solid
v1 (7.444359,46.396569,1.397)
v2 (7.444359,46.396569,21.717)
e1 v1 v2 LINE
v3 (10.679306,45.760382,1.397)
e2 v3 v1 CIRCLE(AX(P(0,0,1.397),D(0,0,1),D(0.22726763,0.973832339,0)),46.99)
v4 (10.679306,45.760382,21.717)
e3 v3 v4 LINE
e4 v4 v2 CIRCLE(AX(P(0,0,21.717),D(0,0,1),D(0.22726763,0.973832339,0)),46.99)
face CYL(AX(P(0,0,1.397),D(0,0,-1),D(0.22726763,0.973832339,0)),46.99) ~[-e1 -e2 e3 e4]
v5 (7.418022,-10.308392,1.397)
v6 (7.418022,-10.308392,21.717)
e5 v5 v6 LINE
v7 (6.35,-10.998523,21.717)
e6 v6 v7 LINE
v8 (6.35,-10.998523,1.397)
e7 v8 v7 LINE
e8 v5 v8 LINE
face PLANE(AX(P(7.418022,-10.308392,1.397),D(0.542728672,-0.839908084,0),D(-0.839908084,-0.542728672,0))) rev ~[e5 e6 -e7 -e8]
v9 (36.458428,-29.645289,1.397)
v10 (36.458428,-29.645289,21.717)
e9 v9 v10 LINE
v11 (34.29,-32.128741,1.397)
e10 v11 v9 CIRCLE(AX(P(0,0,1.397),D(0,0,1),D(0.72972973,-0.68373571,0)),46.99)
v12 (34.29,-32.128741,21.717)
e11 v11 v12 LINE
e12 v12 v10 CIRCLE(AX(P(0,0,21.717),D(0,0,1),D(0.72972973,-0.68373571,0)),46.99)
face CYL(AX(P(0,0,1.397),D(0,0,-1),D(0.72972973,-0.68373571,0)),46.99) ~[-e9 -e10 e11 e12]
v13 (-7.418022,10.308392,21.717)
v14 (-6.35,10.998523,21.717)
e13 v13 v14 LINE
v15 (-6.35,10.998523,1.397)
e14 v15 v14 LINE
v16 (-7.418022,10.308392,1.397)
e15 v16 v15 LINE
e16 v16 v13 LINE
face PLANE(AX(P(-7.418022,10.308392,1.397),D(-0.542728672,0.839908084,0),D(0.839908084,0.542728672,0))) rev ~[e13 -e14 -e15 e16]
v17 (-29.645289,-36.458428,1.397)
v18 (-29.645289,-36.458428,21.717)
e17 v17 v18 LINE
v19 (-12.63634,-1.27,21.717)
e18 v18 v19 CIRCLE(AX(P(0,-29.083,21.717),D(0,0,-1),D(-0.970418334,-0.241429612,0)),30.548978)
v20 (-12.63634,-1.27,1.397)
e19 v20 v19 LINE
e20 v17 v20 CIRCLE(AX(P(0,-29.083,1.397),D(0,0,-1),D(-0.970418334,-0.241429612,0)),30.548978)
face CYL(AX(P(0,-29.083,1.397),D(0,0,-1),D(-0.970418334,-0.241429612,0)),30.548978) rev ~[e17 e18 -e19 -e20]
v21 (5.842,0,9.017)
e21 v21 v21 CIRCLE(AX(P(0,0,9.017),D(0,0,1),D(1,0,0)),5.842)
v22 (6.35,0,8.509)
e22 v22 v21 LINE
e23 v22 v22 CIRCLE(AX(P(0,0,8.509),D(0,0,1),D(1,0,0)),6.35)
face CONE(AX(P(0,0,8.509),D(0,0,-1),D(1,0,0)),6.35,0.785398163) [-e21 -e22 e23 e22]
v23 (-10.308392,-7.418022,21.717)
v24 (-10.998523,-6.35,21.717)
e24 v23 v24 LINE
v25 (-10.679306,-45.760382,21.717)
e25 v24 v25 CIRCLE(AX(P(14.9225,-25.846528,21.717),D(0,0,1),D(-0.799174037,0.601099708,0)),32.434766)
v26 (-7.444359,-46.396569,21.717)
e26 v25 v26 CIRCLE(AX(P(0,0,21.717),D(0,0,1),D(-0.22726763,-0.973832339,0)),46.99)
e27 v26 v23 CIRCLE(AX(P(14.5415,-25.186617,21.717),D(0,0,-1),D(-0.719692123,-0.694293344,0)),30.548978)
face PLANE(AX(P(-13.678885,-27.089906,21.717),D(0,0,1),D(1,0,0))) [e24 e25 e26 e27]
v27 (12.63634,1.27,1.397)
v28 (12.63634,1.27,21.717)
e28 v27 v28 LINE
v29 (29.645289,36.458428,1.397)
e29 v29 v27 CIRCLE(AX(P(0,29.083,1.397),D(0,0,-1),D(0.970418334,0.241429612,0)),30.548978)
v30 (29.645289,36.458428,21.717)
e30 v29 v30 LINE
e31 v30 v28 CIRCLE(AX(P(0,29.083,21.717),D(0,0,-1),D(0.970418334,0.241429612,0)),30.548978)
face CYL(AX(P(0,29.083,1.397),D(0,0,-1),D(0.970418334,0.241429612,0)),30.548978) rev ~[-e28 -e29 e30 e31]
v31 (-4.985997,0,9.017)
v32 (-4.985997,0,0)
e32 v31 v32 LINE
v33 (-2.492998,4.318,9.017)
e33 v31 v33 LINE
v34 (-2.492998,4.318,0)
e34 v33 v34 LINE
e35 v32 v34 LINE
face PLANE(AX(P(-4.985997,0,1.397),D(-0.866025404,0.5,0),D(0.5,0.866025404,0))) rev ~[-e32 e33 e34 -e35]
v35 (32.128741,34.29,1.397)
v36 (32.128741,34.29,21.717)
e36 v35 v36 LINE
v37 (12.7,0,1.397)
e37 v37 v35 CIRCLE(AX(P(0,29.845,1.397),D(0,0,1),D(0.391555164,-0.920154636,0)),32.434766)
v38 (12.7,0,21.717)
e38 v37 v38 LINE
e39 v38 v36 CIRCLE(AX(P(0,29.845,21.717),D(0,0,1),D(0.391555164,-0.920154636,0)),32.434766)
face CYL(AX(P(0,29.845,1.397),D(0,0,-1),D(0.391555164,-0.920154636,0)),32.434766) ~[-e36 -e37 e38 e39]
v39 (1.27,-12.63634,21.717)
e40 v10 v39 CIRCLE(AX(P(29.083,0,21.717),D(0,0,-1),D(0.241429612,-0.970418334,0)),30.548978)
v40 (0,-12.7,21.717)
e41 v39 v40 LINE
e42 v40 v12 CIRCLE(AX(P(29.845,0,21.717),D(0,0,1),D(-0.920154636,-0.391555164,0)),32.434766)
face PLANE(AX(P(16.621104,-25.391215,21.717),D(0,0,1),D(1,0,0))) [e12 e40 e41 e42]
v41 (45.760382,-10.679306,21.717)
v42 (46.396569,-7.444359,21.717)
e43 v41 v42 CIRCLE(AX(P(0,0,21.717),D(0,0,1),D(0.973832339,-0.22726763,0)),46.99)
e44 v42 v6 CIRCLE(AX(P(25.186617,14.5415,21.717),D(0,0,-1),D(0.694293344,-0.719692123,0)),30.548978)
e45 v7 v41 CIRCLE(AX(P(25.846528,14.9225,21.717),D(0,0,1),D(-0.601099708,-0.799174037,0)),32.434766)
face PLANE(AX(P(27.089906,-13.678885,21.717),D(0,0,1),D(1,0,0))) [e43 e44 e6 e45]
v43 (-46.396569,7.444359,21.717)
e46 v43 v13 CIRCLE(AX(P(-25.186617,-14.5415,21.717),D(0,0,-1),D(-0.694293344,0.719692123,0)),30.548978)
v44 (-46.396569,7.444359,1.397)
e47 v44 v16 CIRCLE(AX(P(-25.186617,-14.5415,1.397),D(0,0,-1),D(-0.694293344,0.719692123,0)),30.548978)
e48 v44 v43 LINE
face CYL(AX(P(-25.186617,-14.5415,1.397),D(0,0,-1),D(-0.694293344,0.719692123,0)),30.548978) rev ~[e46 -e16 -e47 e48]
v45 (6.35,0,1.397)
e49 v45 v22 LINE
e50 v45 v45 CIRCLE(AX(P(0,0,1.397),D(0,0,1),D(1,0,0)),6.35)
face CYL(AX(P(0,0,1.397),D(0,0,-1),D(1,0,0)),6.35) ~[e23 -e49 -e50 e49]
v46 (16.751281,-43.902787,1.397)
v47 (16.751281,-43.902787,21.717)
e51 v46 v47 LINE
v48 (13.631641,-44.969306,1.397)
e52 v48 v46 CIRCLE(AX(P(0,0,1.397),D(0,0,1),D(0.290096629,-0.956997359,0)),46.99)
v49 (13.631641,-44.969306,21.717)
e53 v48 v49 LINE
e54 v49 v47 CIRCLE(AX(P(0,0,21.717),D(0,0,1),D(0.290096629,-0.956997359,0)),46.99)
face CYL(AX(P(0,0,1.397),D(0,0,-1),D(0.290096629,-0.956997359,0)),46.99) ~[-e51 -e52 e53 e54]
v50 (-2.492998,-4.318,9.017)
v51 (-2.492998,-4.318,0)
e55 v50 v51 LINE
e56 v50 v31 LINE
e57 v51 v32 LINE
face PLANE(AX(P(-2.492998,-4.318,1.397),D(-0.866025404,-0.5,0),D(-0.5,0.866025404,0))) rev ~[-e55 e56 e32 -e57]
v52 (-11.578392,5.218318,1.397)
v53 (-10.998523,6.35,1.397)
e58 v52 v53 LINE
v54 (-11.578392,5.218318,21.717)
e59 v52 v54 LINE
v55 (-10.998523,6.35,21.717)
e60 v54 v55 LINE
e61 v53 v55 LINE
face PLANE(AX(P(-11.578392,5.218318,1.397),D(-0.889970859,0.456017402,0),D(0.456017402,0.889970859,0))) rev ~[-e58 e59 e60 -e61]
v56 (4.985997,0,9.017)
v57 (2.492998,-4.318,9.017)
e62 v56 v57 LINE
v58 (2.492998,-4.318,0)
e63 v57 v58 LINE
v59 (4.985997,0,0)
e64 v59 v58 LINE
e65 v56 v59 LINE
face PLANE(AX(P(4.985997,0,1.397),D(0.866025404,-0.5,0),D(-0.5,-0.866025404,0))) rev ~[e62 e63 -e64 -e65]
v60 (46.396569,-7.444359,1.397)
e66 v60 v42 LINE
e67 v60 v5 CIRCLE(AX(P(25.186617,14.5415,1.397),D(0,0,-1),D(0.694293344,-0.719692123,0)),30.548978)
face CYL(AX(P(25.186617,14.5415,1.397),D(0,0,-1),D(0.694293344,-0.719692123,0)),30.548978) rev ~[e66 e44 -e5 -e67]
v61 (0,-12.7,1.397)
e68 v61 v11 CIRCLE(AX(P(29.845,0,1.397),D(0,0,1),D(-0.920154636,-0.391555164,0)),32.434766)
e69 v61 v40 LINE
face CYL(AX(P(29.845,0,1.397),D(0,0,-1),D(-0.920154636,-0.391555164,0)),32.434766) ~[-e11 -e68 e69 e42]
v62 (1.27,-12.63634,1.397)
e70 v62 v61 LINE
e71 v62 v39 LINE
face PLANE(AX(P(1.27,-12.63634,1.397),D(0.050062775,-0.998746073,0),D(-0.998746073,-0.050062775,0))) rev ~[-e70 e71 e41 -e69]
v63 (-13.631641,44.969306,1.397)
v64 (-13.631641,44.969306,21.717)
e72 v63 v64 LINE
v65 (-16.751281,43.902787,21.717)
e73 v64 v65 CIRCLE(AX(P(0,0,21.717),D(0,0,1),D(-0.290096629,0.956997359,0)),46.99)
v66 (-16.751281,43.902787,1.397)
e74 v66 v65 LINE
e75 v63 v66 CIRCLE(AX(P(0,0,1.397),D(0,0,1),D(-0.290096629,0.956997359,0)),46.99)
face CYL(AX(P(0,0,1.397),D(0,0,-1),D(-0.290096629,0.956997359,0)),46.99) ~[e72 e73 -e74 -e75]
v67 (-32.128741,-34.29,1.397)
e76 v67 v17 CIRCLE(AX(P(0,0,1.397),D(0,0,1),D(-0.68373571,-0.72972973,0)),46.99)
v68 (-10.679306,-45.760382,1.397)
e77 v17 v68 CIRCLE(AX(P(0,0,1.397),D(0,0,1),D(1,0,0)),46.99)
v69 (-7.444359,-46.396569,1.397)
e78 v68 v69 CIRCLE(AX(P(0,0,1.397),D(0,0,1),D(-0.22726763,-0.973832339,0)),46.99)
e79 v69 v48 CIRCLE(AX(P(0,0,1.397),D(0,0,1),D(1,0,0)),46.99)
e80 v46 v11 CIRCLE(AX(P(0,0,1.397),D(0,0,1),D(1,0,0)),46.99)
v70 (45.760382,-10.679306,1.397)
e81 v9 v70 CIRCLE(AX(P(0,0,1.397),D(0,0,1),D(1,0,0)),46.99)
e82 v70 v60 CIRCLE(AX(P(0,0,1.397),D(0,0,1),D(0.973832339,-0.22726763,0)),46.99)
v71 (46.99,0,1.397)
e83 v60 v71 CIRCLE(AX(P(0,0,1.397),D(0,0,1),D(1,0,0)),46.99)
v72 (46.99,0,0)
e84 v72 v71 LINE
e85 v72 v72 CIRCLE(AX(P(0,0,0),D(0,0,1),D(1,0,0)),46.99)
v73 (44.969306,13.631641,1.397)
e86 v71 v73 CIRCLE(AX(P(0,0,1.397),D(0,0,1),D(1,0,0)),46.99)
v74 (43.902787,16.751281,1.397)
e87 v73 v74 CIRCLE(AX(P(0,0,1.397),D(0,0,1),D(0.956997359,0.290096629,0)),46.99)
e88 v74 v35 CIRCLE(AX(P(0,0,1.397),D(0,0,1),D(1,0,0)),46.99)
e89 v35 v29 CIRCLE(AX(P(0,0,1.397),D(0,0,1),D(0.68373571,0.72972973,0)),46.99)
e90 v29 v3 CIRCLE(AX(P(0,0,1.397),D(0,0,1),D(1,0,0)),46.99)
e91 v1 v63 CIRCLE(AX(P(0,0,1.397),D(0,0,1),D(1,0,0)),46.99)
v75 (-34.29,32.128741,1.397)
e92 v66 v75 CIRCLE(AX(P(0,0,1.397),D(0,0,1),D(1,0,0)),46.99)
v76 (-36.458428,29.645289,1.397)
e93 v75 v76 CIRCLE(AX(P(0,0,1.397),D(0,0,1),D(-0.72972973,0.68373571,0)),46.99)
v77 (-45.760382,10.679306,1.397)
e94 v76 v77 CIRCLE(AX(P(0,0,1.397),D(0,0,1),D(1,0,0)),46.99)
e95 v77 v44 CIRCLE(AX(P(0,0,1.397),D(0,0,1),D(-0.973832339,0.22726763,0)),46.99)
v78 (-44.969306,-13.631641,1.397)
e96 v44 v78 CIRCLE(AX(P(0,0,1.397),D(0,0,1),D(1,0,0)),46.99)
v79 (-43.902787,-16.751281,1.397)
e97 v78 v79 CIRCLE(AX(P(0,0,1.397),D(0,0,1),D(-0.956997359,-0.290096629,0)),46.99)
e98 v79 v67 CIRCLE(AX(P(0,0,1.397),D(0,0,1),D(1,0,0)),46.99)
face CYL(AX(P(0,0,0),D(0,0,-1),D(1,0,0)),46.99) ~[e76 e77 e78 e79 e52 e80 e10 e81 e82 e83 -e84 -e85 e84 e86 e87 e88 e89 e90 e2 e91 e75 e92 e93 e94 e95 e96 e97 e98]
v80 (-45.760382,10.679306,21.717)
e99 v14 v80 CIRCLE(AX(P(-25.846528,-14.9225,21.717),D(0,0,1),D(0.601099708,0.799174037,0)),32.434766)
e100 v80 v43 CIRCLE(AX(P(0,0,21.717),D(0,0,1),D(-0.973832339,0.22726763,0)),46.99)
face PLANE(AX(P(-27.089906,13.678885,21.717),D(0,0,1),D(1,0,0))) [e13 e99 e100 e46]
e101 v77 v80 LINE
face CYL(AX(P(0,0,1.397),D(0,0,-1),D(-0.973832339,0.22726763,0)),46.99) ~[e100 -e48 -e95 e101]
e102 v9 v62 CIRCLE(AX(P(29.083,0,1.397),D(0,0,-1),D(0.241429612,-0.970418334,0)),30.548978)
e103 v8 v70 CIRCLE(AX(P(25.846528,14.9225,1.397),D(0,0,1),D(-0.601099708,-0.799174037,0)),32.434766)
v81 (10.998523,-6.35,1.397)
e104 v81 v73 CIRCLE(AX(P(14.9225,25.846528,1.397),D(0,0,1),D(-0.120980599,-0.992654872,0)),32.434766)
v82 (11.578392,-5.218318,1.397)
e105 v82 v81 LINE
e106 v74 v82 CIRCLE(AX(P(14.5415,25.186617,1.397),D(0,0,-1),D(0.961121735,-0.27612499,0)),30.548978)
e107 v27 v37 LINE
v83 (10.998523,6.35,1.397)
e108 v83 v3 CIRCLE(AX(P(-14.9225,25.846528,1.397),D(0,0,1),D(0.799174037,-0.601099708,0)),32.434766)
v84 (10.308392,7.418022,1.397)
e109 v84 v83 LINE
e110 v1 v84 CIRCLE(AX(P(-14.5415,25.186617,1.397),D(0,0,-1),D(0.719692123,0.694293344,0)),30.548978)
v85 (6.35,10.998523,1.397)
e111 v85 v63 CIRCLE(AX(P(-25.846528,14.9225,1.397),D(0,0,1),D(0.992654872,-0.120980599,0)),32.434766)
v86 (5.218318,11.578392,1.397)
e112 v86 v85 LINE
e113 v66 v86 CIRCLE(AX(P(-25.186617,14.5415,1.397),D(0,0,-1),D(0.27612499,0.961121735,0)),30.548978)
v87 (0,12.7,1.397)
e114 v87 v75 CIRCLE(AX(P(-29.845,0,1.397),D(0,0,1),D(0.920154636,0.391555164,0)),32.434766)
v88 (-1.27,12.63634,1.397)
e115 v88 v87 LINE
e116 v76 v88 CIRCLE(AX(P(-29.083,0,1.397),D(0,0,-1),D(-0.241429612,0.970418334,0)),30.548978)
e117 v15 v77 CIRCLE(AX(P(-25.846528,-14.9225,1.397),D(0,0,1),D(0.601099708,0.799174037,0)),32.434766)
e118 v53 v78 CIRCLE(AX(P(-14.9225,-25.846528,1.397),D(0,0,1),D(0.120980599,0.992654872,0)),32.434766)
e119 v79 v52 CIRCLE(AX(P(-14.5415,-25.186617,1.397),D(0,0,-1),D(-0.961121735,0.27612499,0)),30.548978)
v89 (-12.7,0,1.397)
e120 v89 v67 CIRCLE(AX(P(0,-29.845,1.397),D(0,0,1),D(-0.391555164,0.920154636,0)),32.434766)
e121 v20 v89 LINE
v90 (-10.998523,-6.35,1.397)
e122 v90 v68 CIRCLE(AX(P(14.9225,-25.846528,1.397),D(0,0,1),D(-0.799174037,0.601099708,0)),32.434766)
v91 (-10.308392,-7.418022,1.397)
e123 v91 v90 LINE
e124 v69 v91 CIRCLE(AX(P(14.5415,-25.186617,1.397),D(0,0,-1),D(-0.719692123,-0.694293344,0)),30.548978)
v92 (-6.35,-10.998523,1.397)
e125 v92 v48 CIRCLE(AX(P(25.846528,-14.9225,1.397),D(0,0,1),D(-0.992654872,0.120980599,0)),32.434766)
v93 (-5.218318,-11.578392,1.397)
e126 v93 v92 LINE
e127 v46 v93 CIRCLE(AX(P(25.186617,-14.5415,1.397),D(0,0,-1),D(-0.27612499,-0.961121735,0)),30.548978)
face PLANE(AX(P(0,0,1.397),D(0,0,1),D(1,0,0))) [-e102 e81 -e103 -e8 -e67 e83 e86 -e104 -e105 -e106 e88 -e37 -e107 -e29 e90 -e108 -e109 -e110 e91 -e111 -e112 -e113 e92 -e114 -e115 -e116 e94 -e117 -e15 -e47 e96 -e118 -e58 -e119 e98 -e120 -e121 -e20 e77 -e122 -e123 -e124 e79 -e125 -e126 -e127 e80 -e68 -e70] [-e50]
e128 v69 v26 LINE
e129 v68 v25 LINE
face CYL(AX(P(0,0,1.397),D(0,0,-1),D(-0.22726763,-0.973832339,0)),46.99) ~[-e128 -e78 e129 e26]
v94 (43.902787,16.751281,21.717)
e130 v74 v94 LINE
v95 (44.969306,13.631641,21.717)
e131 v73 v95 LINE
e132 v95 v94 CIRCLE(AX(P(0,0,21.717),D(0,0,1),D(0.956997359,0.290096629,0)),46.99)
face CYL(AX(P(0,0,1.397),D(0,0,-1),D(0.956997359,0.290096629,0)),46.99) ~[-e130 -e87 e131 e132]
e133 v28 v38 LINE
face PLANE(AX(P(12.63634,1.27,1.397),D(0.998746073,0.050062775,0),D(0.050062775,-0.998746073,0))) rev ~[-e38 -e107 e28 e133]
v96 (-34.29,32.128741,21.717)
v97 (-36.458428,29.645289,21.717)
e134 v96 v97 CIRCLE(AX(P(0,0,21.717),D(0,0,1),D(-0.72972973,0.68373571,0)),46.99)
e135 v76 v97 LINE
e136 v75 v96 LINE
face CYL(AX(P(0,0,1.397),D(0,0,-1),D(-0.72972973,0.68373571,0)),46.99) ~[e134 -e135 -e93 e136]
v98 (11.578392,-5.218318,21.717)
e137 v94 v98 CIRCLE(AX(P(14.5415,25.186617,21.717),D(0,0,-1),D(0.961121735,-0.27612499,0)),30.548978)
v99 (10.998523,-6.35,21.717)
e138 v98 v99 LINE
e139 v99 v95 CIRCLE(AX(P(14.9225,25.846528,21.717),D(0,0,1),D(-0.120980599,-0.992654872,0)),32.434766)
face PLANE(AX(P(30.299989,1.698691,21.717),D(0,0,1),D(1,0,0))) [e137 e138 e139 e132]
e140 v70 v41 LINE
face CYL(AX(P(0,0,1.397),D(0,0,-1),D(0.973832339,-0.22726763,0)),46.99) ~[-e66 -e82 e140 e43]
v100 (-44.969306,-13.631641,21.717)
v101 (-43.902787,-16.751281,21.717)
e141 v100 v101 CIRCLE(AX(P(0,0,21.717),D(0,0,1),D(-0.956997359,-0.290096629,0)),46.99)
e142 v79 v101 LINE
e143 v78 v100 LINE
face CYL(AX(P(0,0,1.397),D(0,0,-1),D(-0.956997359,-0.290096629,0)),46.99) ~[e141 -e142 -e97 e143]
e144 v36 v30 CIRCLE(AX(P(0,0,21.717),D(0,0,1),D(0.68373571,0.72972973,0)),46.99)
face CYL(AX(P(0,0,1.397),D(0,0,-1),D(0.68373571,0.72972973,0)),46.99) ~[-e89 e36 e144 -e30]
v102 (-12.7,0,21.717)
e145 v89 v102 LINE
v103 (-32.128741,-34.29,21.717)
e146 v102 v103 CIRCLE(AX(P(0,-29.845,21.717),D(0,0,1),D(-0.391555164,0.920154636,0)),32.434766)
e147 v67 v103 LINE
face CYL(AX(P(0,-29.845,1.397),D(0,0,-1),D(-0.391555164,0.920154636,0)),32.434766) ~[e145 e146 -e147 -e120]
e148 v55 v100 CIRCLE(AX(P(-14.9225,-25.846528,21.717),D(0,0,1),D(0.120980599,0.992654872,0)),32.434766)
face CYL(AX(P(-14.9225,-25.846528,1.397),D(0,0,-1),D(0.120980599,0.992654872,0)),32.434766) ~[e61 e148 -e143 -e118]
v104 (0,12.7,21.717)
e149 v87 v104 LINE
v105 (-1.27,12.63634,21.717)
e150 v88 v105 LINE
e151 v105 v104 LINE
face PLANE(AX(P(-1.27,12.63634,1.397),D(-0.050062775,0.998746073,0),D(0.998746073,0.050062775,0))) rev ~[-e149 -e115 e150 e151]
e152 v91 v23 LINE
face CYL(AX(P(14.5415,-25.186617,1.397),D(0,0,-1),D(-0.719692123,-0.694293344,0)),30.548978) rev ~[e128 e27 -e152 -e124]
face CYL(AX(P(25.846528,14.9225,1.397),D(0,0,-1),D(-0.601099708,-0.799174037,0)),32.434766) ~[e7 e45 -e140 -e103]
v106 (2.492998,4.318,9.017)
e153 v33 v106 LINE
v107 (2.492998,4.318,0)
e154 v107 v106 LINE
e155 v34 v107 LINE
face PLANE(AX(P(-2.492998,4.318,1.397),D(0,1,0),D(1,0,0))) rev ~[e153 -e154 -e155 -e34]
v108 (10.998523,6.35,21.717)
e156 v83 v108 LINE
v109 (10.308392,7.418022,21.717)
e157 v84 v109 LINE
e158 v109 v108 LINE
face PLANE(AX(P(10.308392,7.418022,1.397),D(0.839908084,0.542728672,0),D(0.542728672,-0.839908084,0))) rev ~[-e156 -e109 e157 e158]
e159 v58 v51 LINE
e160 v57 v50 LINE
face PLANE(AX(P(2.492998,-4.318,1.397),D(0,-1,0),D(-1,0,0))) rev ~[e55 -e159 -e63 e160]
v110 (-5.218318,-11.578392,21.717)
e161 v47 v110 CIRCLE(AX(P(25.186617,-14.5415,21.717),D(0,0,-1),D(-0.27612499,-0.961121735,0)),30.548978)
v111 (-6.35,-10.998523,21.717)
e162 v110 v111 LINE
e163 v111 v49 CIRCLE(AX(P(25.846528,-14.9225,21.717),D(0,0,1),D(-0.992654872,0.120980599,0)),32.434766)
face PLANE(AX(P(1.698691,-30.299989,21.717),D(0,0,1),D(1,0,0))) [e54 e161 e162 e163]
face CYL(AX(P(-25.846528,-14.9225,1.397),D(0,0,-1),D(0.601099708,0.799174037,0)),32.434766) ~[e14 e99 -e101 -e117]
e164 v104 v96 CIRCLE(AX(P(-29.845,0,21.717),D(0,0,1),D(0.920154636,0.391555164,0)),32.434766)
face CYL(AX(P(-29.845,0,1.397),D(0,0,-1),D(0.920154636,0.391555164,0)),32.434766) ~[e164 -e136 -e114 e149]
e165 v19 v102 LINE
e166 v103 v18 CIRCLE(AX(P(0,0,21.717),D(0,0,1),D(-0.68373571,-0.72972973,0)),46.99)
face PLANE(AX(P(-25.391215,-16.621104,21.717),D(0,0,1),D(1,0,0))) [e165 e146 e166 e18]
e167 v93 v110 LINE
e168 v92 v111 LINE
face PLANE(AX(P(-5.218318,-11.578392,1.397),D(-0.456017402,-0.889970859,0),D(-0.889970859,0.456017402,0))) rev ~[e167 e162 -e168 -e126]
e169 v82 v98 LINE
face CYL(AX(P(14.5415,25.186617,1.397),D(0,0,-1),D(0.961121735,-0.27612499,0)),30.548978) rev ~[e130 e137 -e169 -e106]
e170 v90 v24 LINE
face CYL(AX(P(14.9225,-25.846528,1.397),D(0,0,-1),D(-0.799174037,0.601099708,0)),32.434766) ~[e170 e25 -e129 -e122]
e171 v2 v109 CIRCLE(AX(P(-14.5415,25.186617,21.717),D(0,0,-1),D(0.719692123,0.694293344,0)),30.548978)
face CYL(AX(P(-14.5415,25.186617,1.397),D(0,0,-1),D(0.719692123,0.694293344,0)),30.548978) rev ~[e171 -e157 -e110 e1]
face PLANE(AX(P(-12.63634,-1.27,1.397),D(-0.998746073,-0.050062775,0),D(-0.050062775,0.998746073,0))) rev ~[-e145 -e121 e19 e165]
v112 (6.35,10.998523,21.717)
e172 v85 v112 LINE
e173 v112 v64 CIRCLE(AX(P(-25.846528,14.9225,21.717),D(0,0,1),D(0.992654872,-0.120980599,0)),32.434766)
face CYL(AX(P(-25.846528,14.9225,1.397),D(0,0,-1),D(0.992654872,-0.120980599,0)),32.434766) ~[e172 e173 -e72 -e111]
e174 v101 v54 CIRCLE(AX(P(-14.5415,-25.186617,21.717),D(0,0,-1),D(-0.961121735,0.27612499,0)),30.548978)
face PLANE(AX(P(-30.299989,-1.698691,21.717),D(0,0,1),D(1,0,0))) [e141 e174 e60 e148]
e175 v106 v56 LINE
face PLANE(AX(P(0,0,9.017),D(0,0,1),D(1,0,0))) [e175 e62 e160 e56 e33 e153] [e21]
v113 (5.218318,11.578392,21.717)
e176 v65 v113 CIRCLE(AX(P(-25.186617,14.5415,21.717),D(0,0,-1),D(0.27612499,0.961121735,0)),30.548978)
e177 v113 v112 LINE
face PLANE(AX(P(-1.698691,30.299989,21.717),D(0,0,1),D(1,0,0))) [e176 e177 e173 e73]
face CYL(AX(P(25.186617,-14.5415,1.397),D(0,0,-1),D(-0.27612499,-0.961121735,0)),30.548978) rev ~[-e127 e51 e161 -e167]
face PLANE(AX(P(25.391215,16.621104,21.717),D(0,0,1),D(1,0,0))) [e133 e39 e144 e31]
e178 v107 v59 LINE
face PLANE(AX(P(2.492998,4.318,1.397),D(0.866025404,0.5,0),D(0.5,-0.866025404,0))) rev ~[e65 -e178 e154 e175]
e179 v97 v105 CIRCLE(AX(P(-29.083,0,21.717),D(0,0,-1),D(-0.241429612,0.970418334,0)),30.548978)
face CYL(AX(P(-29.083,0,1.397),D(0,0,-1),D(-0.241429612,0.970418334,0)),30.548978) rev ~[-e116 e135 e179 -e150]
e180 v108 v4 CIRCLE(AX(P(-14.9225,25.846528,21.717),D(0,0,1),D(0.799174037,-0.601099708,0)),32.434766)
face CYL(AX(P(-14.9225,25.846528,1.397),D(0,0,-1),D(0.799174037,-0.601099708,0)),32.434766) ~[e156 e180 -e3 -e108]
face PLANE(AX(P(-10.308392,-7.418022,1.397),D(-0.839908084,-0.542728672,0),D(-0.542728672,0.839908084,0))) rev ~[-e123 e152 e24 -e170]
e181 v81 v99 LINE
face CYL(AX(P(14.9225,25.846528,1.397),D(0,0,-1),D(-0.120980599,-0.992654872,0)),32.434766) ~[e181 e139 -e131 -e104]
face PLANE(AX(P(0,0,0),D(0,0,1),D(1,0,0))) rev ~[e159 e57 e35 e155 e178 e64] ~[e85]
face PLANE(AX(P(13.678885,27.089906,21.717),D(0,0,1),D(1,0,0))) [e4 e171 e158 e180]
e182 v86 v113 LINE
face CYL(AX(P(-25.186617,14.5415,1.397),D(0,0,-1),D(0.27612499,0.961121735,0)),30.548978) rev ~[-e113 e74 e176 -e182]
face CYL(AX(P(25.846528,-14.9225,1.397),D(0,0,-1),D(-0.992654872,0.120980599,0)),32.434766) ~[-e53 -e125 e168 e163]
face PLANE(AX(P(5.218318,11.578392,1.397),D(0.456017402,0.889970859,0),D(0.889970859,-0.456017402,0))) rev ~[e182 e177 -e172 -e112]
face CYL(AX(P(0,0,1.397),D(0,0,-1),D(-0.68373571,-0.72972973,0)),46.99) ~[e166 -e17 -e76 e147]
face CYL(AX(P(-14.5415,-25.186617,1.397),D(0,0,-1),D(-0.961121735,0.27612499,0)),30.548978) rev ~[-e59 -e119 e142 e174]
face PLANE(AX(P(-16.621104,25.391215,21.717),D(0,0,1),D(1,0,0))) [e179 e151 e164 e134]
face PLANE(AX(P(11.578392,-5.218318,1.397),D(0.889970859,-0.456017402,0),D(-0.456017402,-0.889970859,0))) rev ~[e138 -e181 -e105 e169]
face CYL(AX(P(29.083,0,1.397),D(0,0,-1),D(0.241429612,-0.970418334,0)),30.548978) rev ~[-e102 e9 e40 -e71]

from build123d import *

# Parameters (mm, degrees)
F0_R     = 46.99
F1_DEPTH = 1.397
F3_DEPTH = 25.4
F4_R     = 6.35
F5_DEPTH = 7.62
F6_SIZE  = 0.508
F8_DEPTH = 20.32


with BuildPart() as f1:
    # F0 (on Top) → F1 (new body)
    with BuildSketch(Plane.XY):
        Circle(F0_R)
    extrude(amount=F1_DEPTH)

    # F2 (on face) → F3 (cut)
    with BuildSketch(Plane(origin=(0, 0, 0), x_dir=(1, 0, 0), z_dir=(0, 0, -1))):
        Polygon((2.4929984624, 4.318), (-2.4929984624, 4.318), (-4.9859969247, 0), (-2.4929984624, -4.318), (2.4929984624, -4.318), (4.9859969247, 0), align=None)
    extrude(amount=-F3_DEPTH, mode=Mode.SUBTRACT)

    # F4 (on face) → F5 (join)
    with BuildSketch(Plane.XY.offset(1.397)):
        Circle(F4_R)
        Polygon((2.4929984624, 4.318), (4.9859969247, 0), (2.4929984624, -4.318), (-2.4929984624, -4.318), (-4.9859969247, 0), (-2.4929984624, 4.318), align=None, mode=Mode.SUBTRACT)
    extrude(amount=F5_DEPTH)

    # F6
    f6_edges = [f1.edges().sort_by_distance(p)[0] for p in [
        (-6.35, 0, 9.017),
    ]]
    chamfer(f6_edges, length=F6_SIZE)

    # F7 (on face) → F8 (join)
    with BuildSketch(Plane.XY.offset(1.397)):
        with BuildLine():
            ThreePointArc((10.9985226281, 6.35), (17.5112017635, 26.1092350832), (10.6793059213, 45.7603816094))
            ThreePointArc((10.6793059213, 45.7603816094), (9.067413692, 46.1068553356), (7.4443589893, 46.396569046))
            ThreePointArc((7.4443589893, 46.396569046), (15.9253452898, 27.4252340455), (10.3083918417, 7.4180224884))
            Line((10.3083918417, 7.4180224884), (10.9985226281, 6.35))
        make_face()
        with BuildLine():
            ThreePointArc((12.7, 0), (28.2197631195, 13.8556599737), (32.1287410273, 34.29))
            ThreePointArc((32.1287410273, 34.29), (30.9060382717, 35.3960011633), (29.6452885226, 36.4584279476))
            ThreePointArc((29.6452885226, 36.4584279476), (27.5043706077, 15.7882767433), (12.6363404513, 1.27))
            Line((12.6363404513, 1.27), (12.7, 0))
        make_face()
        with BuildLine():
            ThreePointArc((44.9693059213, 13.6316405821), (44.4634148552, 15.2008170639), (43.9027869369, 16.7512805234))
            ThreePointArc((43.9027869369, 16.7512805234), (31.713622033, -0.0791365622), (11.5783918417, -5.2183179628))
            Line((11.5783918417, -5.2183179628), (10.9985226281, -6.35))
            ThreePointArc((10.9985226281, -6.35), (31.3668617372, -2.1105280363), (44.9693059213, 13.6316405821))
        make_face()
        with BuildLine():
            ThreePointArc((45.7603816094, -10.6793059213), (46.1068553356, -9.067413692), (46.396569046, -7.4443589893))
            ThreePointArc((46.396569046, -7.4443589893), (27.4252340455, -15.9253452898), (7.4180224884, -10.3083918417))
            Line((7.4180224884, -10.3083918417), (6.35, -10.9985226281))
            ThreePointArc((6.35, -10.9985226281), (26.1092350832, -17.5112017635), (45.7603816094, -10.6793059213))
        make_face()
        with BuildLine():
            ThreePointArc((34.29, -32.1287410273), (35.3960011633, -30.9060382717), (36.4584279476, -29.6452885226))
            ThreePointArc((36.4584279476, -29.6452885226), (15.7882767433, -27.5043706077), (1.27, -12.6363404513))
            Line((1.27, -12.6363404513), (0, -12.7))
            ThreePointArc((0, -12.7), (13.8556599737, -28.2197631195), (34.29, -32.1287410273))
        make_face()
        with BuildLine():
            ThreePointArc((13.6316405821, -44.9693059213), (15.2008170639, -44.4634148552), (16.7512805234, -43.9027869369))
            ThreePointArc((16.7512805234, -43.9027869369), (-0.0791365622, -31.713622033), (-5.2183179628, -11.5783918417))
            Line((-5.2183179628, -11.5783918417), (-6.35, -10.9985226281))
            ThreePointArc((-6.35, -10.9985226281), (-2.1105280363, -31.3668617372), (13.6316405821, -44.9693059213))
        make_face()
        with BuildLine():
            ThreePointArc((-10.6793059213, -45.7603816094), (-9.067413692, -46.1068553356), (-7.4443589893, -46.396569046))
            ThreePointArc((-7.4443589893, -46.396569046), (-15.9253452898, -27.4252340455), (-10.3083918417, -7.4180224884))
            Line((-10.3083918417, -7.4180224884), (-10.9985226281, -6.35))
            ThreePointArc((-10.9985226281, -6.35), (-17.5112017635, -26.1092350832), (-10.6793059213, -45.7603816094))
        make_face()
        with BuildLine():
            ThreePointArc((-32.1287410273, -34.29), (-30.9060382717, -35.3960011633), (-29.6452885226, -36.4584279476))
            ThreePointArc((-29.6452885226, -36.4584279476), (-27.5043706077, -15.7882767433), (-12.6363404513, -1.27))
            Line((-12.6363404513, -1.27), (-12.7, 0))
            ThreePointArc((-12.7, 0), (-28.2197631195, -13.8556599737), (-32.1287410273, -34.29))
        make_face()
        with BuildLine():
            ThreePointArc((-10.9985226281, 6.35), (-31.3668617372, 2.1105280363), (-44.9693059213, -13.6316405821))
            ThreePointArc((-44.9693059213, -13.6316405821), (-44.4634148552, -15.2008170639), (-43.9027869369, -16.7512805234))
            ThreePointArc((-43.9027869369, -16.7512805234), (-31.713622033, 0.0791365622), (-11.5783918417, 5.2183179628))
            Line((-11.5783918417, 5.2183179628), (-10.9985226281, 6.35))
        make_face()
        with BuildLine():
            ThreePointArc((-6.35, 10.9985226281), (-26.1092350832, 17.5112017635), (-45.7603816094, 10.6793059213))
            ThreePointArc((-45.7603816094, 10.6793059213), (-46.1068553356, 9.067413692), (-46.396569046, 7.4443589893))
            ThreePointArc((-46.396569046, 7.4443589893), (-27.4252340455, 15.9253452898), (-7.4180224884, 10.3083918417))
            Line((-7.4180224884, 10.3083918417), (-6.35, 10.9985226281))
        make_face()
        with BuildLine():
            ThreePointArc((0, 12.7), (-13.8556599737, 28.2197631195), (-34.29, 32.1287410273))
            ThreePointArc((-34.29, 32.1287410273), (-35.3960011633, 30.9060382717), (-36.4584279476, 29.6452885226))
            ThreePointArc((-36.4584279476, 29.6452885226), (-15.7882767433, 27.5043706077), (-1.27, 12.6363404513))
            Line((-1.27, 12.6363404513), (0, 12.7))
        make_face()
        with BuildLine():
            ThreePointArc((6.35, 10.9985226281), (2.1105280363, 31.3668617372), (-13.6316405821, 44.9693059213))
            ThreePointArc((-13.6316405821, 44.9693059213), (-15.2008170639, 44.4634148552), (-16.7512805234, 43.9027869369))
            ThreePointArc((-16.7512805234, 43.9027869369), (0.0791365622, 31.713622033), (5.2183179628, 11.5783918417))
            Line((5.2183179628, 11.5783918417), (6.35, 10.9985226281))
        make_face()
    extrude(amount=F8_DEPTH)


solid = f1.part
